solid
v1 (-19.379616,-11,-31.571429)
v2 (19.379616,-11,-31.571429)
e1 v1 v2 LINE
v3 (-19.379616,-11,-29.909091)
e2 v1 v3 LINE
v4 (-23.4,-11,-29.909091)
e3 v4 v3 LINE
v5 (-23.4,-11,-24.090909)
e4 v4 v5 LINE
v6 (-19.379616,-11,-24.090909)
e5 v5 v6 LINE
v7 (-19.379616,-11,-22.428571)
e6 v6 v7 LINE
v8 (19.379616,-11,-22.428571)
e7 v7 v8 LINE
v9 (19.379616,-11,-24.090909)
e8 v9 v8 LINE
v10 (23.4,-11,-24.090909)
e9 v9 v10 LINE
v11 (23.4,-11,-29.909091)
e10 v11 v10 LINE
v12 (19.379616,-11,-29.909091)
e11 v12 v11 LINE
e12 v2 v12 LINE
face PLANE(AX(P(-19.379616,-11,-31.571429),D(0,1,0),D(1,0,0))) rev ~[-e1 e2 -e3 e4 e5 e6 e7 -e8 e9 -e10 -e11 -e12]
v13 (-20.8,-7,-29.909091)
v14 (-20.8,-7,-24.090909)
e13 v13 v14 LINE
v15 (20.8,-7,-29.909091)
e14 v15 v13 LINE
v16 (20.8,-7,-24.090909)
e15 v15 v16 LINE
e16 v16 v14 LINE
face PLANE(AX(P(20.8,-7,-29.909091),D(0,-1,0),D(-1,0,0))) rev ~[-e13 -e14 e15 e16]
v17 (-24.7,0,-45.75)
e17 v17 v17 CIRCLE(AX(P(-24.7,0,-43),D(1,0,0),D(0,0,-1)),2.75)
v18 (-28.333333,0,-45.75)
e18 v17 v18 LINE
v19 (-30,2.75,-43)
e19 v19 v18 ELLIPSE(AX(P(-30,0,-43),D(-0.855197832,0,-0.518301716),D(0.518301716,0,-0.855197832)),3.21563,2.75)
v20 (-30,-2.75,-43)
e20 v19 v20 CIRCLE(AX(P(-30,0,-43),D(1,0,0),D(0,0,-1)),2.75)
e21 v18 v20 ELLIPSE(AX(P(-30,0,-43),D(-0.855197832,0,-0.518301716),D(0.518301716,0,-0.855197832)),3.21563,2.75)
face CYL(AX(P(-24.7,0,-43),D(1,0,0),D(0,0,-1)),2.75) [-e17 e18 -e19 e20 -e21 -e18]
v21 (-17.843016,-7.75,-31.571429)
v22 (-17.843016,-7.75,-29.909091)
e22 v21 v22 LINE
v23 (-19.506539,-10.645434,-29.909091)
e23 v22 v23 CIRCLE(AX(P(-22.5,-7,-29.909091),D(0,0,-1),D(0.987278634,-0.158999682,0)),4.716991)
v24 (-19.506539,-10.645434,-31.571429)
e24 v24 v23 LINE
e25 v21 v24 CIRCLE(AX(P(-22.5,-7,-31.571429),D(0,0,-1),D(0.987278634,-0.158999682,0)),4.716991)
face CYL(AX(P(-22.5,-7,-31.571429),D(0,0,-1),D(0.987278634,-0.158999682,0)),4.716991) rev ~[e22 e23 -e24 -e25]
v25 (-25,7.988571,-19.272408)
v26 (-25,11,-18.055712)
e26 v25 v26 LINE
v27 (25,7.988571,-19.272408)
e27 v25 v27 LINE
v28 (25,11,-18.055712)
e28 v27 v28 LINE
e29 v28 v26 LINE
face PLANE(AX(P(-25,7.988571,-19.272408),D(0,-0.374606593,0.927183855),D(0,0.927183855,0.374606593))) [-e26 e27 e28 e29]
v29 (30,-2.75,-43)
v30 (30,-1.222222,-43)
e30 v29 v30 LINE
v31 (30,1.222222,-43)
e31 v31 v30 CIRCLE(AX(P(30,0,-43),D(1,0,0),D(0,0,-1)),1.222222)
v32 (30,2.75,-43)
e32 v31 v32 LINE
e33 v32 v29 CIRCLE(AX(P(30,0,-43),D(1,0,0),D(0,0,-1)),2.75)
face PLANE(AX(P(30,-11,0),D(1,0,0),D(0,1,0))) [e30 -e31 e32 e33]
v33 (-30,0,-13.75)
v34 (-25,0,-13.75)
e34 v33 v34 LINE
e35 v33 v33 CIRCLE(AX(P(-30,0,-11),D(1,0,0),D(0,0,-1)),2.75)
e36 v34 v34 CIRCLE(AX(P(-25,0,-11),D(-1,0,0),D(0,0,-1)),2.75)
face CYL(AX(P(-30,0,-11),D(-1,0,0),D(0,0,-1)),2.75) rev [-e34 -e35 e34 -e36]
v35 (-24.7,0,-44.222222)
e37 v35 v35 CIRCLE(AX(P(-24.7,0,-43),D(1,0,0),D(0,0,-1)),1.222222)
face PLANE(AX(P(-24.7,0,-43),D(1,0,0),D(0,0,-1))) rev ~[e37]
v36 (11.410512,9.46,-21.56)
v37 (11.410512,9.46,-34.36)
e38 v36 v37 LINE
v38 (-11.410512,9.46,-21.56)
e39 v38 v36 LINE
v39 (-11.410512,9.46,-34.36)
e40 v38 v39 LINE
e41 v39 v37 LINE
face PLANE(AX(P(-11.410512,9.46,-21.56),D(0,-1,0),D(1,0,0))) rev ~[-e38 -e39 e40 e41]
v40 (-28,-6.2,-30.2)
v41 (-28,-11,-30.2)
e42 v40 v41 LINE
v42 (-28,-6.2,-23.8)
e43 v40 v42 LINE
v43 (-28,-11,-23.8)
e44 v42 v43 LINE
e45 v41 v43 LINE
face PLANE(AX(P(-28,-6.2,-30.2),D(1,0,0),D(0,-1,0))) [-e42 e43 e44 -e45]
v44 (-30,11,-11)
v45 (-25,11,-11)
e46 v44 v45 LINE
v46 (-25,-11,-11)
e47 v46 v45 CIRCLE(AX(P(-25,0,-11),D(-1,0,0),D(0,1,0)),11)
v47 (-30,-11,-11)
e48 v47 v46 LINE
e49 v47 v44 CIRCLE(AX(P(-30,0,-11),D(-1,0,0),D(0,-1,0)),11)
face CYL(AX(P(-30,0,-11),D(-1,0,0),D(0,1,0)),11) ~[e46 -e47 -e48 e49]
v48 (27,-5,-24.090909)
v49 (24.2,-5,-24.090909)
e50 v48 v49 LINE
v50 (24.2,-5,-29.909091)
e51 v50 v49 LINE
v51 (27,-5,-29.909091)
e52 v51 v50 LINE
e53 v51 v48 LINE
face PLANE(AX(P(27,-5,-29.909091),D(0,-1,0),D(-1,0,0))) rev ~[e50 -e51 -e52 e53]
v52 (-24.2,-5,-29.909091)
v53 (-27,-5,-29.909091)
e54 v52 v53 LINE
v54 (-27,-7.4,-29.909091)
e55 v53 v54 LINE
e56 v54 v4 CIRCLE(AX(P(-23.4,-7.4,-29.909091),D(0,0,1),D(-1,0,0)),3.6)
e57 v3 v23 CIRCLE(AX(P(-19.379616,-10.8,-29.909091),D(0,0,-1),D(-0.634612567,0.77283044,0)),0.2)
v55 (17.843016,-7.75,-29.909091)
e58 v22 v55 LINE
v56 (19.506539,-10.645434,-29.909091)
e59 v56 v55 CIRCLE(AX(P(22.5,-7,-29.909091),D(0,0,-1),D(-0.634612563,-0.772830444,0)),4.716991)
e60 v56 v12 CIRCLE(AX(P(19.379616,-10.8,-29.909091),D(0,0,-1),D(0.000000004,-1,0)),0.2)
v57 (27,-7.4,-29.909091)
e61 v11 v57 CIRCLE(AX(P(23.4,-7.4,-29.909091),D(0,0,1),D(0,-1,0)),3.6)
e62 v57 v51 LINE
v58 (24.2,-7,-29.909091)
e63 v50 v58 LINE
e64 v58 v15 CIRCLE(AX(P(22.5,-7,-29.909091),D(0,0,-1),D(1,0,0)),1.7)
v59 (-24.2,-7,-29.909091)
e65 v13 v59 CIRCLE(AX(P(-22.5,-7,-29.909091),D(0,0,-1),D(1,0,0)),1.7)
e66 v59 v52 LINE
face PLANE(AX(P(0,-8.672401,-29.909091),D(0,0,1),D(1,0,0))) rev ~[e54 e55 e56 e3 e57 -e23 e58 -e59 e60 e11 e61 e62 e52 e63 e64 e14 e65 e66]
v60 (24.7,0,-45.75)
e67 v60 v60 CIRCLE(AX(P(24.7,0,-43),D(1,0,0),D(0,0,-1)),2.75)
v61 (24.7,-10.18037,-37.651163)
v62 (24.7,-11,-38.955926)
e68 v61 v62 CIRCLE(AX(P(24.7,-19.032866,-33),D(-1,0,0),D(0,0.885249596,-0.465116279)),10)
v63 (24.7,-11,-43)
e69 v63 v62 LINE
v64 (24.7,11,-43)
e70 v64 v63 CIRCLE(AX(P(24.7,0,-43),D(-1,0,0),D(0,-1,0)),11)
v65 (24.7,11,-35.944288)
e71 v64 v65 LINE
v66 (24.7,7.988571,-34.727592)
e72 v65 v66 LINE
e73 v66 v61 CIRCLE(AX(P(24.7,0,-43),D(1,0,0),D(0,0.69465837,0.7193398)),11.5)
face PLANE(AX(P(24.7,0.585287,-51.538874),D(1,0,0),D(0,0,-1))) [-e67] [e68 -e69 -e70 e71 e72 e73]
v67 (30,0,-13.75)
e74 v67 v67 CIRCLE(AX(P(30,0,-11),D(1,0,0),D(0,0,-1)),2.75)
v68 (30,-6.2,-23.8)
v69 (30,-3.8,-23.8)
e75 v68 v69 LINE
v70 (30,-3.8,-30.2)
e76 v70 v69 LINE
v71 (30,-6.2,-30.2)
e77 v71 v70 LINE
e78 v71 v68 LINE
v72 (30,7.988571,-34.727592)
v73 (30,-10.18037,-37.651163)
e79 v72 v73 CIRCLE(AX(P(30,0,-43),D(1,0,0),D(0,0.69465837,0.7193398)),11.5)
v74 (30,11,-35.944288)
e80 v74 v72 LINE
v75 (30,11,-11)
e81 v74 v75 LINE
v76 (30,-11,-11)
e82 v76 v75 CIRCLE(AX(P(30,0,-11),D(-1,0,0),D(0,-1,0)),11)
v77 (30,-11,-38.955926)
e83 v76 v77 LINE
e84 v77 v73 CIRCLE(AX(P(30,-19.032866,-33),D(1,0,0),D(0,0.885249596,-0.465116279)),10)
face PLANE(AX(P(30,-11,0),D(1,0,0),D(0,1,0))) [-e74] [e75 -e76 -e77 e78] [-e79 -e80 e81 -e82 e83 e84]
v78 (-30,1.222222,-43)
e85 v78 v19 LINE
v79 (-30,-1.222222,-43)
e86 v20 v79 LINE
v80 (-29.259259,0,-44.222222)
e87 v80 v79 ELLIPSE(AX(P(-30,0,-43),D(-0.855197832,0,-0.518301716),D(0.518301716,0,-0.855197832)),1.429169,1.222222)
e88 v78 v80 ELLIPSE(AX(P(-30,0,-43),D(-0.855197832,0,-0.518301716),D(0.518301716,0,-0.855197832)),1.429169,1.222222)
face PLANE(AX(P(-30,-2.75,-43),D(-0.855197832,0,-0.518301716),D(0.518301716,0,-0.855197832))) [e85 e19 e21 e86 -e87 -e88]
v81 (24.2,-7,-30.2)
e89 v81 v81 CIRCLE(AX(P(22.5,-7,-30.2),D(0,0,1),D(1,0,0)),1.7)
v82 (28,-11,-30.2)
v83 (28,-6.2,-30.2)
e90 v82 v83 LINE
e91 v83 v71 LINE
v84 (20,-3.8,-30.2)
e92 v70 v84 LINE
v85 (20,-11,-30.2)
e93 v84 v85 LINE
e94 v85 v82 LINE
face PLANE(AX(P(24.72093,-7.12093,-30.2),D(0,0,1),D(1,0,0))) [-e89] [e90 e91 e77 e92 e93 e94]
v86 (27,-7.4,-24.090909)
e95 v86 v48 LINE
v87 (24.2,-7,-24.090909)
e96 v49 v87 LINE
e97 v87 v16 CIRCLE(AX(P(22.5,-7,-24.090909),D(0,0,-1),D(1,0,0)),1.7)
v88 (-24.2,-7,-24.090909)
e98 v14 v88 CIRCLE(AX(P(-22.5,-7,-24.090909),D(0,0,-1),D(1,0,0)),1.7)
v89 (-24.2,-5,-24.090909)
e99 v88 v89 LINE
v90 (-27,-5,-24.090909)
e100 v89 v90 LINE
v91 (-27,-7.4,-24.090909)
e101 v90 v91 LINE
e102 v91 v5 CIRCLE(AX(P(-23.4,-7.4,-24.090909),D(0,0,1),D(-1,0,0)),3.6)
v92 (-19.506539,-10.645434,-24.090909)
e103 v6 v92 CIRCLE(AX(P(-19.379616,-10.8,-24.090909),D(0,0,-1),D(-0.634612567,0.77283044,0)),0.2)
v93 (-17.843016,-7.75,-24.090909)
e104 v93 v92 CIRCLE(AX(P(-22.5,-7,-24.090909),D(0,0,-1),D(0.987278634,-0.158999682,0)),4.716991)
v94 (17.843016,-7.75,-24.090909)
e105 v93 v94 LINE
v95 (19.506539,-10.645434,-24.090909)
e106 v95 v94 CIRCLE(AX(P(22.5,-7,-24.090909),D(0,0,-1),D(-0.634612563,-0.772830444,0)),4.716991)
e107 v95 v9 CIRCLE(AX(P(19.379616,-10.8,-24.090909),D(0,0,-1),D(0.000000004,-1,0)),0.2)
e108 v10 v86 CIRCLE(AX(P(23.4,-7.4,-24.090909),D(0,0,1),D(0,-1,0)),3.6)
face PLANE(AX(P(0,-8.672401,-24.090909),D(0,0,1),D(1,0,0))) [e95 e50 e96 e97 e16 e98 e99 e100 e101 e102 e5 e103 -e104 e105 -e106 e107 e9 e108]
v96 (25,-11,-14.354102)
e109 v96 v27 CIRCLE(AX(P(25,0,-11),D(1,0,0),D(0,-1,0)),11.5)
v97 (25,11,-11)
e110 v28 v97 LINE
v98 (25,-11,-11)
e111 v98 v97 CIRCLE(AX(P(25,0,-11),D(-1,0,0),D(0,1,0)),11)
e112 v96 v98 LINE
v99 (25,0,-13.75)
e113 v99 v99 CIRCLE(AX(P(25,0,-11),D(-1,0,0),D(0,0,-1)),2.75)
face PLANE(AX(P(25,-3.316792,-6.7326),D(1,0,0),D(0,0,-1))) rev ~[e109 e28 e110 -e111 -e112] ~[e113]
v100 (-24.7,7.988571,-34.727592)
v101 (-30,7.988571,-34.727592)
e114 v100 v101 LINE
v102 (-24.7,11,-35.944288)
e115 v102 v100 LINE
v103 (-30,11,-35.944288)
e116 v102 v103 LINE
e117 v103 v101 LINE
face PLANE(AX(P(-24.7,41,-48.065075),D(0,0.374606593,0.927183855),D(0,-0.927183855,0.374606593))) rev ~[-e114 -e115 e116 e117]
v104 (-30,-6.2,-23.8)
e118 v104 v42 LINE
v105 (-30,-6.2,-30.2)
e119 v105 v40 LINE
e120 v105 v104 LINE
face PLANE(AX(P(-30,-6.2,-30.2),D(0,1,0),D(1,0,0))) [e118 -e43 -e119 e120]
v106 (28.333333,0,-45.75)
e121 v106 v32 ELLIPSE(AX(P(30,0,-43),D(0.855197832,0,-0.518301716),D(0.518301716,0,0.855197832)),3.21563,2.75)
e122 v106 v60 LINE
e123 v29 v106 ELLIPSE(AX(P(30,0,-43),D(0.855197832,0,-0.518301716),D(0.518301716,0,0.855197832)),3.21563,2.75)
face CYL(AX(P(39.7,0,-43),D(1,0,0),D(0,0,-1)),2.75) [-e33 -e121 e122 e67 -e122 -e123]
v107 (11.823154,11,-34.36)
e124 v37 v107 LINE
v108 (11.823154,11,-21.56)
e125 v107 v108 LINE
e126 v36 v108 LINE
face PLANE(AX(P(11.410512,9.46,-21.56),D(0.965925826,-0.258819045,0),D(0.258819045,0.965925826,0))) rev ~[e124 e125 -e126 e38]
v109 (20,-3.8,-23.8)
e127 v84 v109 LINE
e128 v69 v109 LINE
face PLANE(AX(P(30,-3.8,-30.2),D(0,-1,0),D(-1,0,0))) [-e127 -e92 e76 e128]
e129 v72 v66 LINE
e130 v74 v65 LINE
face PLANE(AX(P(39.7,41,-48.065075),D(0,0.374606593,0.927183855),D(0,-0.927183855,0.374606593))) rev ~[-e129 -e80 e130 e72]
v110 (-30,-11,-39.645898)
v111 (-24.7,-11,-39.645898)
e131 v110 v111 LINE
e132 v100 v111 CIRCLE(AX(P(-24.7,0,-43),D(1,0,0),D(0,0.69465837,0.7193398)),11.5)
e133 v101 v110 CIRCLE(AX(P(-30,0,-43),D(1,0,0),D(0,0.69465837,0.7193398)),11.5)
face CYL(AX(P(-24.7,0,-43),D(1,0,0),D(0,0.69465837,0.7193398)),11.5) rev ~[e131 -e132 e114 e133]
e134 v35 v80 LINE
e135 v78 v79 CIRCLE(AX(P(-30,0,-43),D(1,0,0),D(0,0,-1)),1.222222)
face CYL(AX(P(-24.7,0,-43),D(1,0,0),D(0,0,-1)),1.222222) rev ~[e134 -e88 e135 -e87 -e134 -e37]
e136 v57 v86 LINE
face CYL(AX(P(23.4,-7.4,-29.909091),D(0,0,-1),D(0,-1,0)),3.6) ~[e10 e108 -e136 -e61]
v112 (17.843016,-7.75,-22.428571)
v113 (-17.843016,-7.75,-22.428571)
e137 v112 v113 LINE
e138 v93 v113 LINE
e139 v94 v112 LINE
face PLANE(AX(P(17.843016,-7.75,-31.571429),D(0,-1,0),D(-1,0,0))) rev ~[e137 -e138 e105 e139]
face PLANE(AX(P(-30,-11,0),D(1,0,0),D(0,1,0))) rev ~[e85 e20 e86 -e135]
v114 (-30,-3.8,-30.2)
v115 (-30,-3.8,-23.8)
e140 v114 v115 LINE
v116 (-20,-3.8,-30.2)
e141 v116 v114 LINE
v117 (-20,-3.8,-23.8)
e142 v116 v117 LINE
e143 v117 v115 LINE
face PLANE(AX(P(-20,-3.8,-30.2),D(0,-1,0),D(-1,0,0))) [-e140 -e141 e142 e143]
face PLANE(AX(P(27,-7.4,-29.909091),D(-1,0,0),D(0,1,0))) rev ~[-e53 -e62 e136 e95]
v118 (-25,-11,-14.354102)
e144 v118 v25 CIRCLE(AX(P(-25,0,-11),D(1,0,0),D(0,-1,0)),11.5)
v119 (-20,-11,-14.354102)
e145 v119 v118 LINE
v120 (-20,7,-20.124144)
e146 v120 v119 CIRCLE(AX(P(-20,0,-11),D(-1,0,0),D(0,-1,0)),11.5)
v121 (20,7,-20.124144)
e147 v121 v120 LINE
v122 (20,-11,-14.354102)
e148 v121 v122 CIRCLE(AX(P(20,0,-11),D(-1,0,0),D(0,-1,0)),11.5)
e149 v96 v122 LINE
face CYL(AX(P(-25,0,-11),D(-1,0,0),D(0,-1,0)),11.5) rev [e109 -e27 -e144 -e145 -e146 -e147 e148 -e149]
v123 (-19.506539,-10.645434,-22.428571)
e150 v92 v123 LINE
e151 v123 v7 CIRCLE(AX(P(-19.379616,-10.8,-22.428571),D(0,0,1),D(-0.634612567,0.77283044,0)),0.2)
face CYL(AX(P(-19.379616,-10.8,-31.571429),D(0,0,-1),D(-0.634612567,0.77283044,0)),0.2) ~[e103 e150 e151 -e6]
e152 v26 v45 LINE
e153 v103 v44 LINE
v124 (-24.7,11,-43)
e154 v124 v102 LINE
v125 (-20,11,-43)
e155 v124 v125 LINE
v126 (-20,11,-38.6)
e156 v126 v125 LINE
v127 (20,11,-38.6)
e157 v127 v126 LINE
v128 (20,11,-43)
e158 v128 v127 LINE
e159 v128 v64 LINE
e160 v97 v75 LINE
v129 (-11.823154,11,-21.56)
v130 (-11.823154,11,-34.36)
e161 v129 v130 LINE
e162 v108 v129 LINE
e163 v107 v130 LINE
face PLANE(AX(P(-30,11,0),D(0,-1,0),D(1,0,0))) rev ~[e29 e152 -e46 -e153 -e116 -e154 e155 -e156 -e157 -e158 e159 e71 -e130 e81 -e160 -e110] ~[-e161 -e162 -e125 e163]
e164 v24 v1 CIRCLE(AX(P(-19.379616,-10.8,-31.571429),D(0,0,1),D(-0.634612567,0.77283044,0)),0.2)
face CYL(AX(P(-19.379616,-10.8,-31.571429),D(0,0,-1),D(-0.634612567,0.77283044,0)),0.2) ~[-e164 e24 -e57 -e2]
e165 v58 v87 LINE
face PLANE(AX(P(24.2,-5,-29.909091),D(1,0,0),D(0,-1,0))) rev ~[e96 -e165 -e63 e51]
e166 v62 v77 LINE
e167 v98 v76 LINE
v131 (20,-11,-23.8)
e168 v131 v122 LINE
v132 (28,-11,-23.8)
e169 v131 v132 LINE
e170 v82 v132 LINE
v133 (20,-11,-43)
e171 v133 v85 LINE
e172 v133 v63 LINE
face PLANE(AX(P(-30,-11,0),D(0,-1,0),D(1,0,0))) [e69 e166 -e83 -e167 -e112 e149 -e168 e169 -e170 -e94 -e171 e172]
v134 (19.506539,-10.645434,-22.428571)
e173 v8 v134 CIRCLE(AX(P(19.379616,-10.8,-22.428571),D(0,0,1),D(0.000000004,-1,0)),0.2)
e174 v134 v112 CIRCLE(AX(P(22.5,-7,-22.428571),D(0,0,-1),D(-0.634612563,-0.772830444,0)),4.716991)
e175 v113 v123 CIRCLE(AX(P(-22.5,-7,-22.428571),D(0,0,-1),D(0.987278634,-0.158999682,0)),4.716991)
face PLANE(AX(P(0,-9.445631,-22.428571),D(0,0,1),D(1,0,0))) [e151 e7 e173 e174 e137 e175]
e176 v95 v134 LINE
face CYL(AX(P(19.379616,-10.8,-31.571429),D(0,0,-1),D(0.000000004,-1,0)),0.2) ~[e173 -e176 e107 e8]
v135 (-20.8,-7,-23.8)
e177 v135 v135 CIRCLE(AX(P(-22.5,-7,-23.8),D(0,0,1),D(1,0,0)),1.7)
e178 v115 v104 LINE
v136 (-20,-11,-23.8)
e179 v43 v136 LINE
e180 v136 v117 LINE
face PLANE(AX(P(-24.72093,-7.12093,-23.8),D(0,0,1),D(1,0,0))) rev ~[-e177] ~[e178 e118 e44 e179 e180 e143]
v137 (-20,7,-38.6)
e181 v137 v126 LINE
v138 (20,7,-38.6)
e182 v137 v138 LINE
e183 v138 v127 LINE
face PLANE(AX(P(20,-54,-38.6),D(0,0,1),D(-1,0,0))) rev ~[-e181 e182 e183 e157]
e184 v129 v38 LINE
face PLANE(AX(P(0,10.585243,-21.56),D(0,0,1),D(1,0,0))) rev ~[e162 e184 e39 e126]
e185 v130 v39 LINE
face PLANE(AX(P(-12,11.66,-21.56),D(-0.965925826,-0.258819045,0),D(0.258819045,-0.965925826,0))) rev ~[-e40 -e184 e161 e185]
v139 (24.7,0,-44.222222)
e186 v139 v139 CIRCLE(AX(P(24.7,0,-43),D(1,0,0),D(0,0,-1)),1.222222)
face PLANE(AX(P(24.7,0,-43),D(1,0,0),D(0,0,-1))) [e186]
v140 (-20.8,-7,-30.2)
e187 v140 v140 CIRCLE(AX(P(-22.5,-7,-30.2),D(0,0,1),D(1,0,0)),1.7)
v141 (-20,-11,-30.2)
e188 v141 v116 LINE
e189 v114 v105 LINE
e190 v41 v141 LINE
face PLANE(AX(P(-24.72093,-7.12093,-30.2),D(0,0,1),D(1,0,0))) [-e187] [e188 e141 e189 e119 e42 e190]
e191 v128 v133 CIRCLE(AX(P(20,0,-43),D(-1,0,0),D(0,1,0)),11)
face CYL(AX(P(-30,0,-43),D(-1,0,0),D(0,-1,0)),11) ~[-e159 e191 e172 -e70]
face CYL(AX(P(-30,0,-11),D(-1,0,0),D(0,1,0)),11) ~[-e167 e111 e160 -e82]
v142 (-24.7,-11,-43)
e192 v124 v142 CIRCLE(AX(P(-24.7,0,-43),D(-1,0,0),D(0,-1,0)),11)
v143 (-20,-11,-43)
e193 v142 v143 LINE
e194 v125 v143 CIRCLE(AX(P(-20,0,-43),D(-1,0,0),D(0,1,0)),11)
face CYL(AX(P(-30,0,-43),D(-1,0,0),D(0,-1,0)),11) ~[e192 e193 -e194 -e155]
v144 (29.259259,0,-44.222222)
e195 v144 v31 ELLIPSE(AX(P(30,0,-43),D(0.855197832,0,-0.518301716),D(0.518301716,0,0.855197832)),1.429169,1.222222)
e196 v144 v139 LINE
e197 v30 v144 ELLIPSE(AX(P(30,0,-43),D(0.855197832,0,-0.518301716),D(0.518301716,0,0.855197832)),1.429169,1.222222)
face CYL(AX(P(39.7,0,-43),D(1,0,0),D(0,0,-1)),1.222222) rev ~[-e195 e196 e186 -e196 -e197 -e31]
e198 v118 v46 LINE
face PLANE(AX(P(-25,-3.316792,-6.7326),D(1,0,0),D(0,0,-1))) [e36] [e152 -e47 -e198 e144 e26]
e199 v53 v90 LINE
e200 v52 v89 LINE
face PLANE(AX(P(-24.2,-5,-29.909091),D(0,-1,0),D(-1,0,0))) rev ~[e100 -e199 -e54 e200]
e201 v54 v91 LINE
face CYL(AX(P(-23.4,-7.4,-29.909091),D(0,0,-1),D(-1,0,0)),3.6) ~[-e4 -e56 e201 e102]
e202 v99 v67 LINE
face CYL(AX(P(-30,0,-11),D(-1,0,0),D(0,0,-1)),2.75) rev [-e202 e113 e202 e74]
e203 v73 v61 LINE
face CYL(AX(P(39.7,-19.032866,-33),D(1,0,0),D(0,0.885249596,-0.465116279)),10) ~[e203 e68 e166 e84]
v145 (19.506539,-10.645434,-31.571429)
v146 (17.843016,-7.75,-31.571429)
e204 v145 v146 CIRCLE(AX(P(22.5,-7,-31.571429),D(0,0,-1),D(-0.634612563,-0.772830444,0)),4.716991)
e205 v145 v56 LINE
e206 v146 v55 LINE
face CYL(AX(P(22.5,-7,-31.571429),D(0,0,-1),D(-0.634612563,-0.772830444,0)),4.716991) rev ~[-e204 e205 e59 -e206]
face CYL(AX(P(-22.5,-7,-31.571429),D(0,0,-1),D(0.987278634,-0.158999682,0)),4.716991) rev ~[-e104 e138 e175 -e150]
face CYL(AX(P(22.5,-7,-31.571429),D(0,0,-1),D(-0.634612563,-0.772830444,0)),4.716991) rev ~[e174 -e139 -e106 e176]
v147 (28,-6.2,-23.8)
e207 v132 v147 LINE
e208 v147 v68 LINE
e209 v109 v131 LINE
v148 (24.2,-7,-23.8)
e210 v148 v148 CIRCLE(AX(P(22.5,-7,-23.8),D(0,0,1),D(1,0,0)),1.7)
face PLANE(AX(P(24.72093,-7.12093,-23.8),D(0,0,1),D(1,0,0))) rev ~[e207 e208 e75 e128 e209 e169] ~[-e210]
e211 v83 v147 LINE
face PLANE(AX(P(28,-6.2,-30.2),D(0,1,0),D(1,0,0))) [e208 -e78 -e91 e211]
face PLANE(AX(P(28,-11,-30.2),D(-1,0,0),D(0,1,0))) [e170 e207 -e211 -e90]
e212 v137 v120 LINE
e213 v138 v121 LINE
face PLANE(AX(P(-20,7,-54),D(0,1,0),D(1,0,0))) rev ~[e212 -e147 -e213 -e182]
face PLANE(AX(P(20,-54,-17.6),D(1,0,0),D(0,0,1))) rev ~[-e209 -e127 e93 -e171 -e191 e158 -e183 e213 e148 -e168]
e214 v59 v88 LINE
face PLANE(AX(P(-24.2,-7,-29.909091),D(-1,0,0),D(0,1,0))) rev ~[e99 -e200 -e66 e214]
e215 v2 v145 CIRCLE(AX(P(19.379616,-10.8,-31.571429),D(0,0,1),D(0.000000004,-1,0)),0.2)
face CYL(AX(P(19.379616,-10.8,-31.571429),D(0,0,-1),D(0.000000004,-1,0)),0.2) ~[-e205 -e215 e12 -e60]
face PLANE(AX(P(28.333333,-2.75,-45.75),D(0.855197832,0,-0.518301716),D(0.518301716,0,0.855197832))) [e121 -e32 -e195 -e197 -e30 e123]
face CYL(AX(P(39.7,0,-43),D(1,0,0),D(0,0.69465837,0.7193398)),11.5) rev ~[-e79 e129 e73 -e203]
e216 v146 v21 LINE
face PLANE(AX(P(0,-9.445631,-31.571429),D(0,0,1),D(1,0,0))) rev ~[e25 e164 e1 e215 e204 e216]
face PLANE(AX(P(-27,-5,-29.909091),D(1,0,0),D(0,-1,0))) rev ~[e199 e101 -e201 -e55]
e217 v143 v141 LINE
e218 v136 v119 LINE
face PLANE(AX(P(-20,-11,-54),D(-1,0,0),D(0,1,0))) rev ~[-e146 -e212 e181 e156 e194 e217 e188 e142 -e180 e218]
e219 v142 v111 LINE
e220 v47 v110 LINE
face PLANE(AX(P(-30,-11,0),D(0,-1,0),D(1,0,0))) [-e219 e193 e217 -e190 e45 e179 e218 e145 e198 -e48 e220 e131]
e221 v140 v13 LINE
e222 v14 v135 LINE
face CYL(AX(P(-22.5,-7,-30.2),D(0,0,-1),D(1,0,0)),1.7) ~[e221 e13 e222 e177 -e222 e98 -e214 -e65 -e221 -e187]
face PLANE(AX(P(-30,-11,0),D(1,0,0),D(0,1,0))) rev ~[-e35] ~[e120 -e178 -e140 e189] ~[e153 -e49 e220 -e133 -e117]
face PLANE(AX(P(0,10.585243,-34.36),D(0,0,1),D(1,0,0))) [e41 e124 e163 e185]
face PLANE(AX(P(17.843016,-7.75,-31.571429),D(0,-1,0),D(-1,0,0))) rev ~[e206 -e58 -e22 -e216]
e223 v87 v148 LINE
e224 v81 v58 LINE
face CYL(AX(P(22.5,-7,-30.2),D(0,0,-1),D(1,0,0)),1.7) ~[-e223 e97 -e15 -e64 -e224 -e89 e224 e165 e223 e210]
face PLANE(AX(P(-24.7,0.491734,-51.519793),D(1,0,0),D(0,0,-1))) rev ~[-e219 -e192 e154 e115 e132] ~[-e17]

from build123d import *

# Parameters (mm, degrees)
SKETCH1_W                = 60
SKETCH1_H                = 22
BOSS_EXTRUDE1_DEPTH      = 54
CUT_EXTRUDE1_DEPTH       = 54
CUT_EXTRUDE1_DEPTH_BACK  = 54
SKETCH2_W                = 40
SKETCH2_H                = 18
CUT_EXTRUDE2_DEPTH       = 12.8
CUT_EXTRUDE3_DEPTH       = 54
CUT_EXTRUDE3_DEPTH_BACK  = 54
SKETCH4_W                = 120
SKETCH4_H                = 180
CUT_EXTRUDE4_DEPTH       = 30
CUT_EXTRUDE4_DEPTH_BACK  = 30
SKETCH5_W                = 96
SKETCH5_H                = 64
SKETCH6_R                = 2.75
CUT_EXTRUDE5_DEPTH       = 15
SKETCH7_R                = 1.222222222
CUT_EXTRUDE6_DEPTH       = 15
CUT_EXTRUDE7_DEPTH       = 30
CUT_EXTRUDE7_DEPTH_BACK  = 30
SKETCH8_R                = 2.75
CUT_EXTRUDE8_DEPTH       = 50
CUT_EXTRUDE9_START       = 15
SKETCH10_R               = 2.75
CUT_EXTRUDE9_DEPTH       = 15
CUT_EXTRUDE10_START      = 15
SKETCH11_R               = 1.222222222
CUT_EXTRUDE10_DEPTH      = 15
CUT_EXTRUDE11_DEPTH      = 3.2
CUT_EXTRUDE11_DEPTH_BACK = 3.2
SKETCH12_R               = 1.7
CUT_EXTRUDE12_DEPTH      = 3.2
CUT_EXTRUDE12_DEPTH_BACK = 3.2
SKETCH13_R               = 1.7
CUT_EXTRUDE13_DEPTH      = 2.75
CUT_EXTRUDE13_DEPTH_BACK = 2.75
CUT_EXTRUDE14_DEPTH      = 2.75
CUT_EXTRUDE14_DEPTH_BACK = 2.75
BOSS_EXTRUDE2_DEPTH      = 2.909090909
BOSS_EXTRUDE2_DEPTH_BACK = 2.909090909
BOSS_EXTRUDE3_DEPTH      = 4.571428571
BOSS_EXTRUDE3_DEPTH_BACK = 4.571428571


with BuildPart() as part:
    # Sketch1 → Boss-Extrude1 (new body)
    with BuildSketch(Plane.XY):
        Rectangle(SKETCH1_W, SKETCH1_H)
    extrude(amount=-BOSS_EXTRUDE1_DEPTH)

    # Sketch2 → Cut-Extrude1 (cut, two sides: drawn at the far end of the back side and taken through both)
    with BuildSketch(Plane.XY.offset(-CUT_EXTRUDE1_DEPTH_BACK)):
        with Locations((0, -2)):
            Rectangle(SKETCH2_W, SKETCH2_H)
    extrude(amount=CUT_EXTRUDE1_DEPTH + CUT_EXTRUDE1_DEPTH_BACK, mode=Mode.SUBTRACT)

    # Sketch3 → Cut-Extrude2 (cut)
    with BuildSketch(Plane.XY.offset(-21.56)):
        Polygon((-12, 11.66), (-11.410511777, 9.46), (11.410511777, 9.46), (12, 11.66), align=None)
    extrude(amount=-CUT_EXTRUDE2_DEPTH, mode=Mode.SUBTRACT)

    # Sketch4 → Cut-Extrude3 (cut, two sides: drawn at the far end of the back side and taken through both)
    with BuildSketch(Plane(origin=(0, 0, 0), x_dir=(-1, 0, 0), z_dir=(0, 1, 0)).offset(-CUT_EXTRUDE3_DEPTH_BACK)):
        with Locations((0, -30)):
            Rectangle(SKETCH4_W, SKETCH4_H)
        Polygon((30, -54), (30, 0), (20, 0), (20, -17.6), (-20, -17.6), (-20, 0), (-30, 0), (-30, -54), (-20, -54), (-20, -38.6), (20, -38.6), (20, -54), align=None, mode=Mode.SUBTRACT)
    extrude(amount=CUT_EXTRUDE3_DEPTH + CUT_EXTRUDE3_DEPTH_BACK, mode=Mode.SUBTRACT)

    # Sketch5 → Cut-Extrude4 (cut, two sides: drawn at the far end of the back side and taken through both)
    with BuildSketch(Plane(origin=(0, 0, 0), x_dir=(0, 0, -1), z_dir=(1, 0, 0)).offset(-CUT_EXTRUDE4_DEPTH_BACK)):
        with Locations((16, 0)):
            Rectangle(SKETCH5_W, SKETCH5_H)
        with BuildLine():
            Line((11, -11), (43, -11))
            ThreePointArc((43, -11), (54, 0), (43, 11))
            Line((43, 11), (11, 11))
            ThreePointArc((11, 11), (0, 0), (11, -11))
        make_face(mode=Mode.SUBTRACT)
    extrude(amount=CUT_EXTRUDE4_DEPTH + CUT_EXTRUDE4_DEPTH_BACK, mode=Mode.SUBTRACT)

    # Sketch6 → Cut-Extrude5 (cut)
    with BuildSketch(Plane(origin=(-24.7, 0, 0), x_dir=(0, 0, -1), z_dir=(1, 0, 0))):
        with BuildLine():
            Line((43, -11.5), (43, -38))
            Line((43, -38), (63.2, -38))
            Line((63.2, -38), (63.2, 41))
            Line((63.2, 41), (48.065075259, 41))
            Line((48.065075259, 41), (34.727592296, 7.98857126))
            ThreePointArc((34.727592296, 7.98857126), (32.414194185, -4.493407978), (43, -11.5))
        make_face()
        with Locations((43, 0)):
            Circle(SKETCH6_R, mode=Mode.SUBTRACT)
    extrude(amount=-CUT_EXTRUDE5_DEPTH, mode=Mode.SUBTRACT)

    # Sketch7 → Cut-Extrude6 (cut)
    with BuildSketch(Plane(origin=(-24.7, 0, 0), x_dir=(0, 0, -1), z_dir=(1, 0, 0))):
        with Locations((43, 0)):
            Circle(SKETCH7_R)
    extrude(amount=-CUT_EXTRUDE6_DEPTH, mode=Mode.SUBTRACT)

    # Sketch8 → Cut-Extrude7 (cut, two sides: drawn at the far end of the back side and taken through both)
    with BuildSketch(Plane(origin=(0, 0, 0), x_dir=(0, 0, -1), z_dir=(1, 0, 0)).offset(-CUT_EXTRUDE7_DEPTH_BACK)):
        with Locations((11, 0)):
            Circle(SKETCH8_R)
    extrude(amount=CUT_EXTRUDE7_DEPTH + CUT_EXTRUDE7_DEPTH_BACK, mode=Mode.SUBTRACT)

    # Sketch9 → Cut-Extrude8 (cut)
    with BuildSketch(Plane(origin=(-25, 0, 0), x_dir=(0, 0, -1), z_dir=(1, 0, 0))):
        with BuildLine():
            Line((-2.2, 26), (-2.2, -33))
            Line((-2.2, -33), (11, -33))
            Line((11, -33), (11, -11.5))
            ThreePointArc((11, -11.5), (21.585805815, -4.493407978), (19.272407704, 7.98857126))
            Line((19.272407704, 7.98857126), (11.995318128, 26))
            Line((11.995318128, 26), (-2.2, 26))
        make_face()
    extrude(amount=CUT_EXTRUDE8_DEPTH, mode=Mode.SUBTRACT)

    # Sketch10 → Cut-Extrude9 (cut)
    with BuildSketch(Plane(origin=(24.7, 0, 0), x_dir=(0, 0, -1), z_dir=(1, 0, 0)).offset(CUT_EXTRUDE9_START)):
        with BuildLine():
            Line((43, -19.032866311), (43, -38))
            Line((43, -38), (63.2, -38))
            Line((63.2, -38), (63.2, 41))
            Line((63.2, 41), (48.065075259, 41))
            Line((48.065075259, 41), (34.727592296, 7.98857126))
            ThreePointArc((34.727592296, 7.98857126), (31.646049671, -1.826967959), (37.651162791, -10.180370352))
            ThreePointArc((37.651162791, -10.180370352), (41.558961032, -13.861388181), (43, -19.032866311))
        make_face()
        with Locations((43, 0)):
            Circle(SKETCH10_R, mode=Mode.SUBTRACT)
    extrude(amount=-CUT_EXTRUDE9_DEPTH, mode=Mode.SUBTRACT)

    # Sketch11 → Cut-Extrude10 (cut)
    with BuildSketch(Plane(origin=(24.7, 0, 0), x_dir=(0, 0, -1), z_dir=(1, 0, 0)).offset(CUT_EXTRUDE10_START)):
        with Locations((43, 0)):
            Circle(SKETCH11_R)
    extrude(amount=-CUT_EXTRUDE10_DEPTH, mode=Mode.SUBTRACT)

    # Sketch12 → Cut-Extrude11 (cut, two sides: drawn at the far end of the back side and taken through both)
    with BuildSketch(Plane.XY.offset(-27).offset(-CUT_EXTRUDE11_DEPTH_BACK)):
        Polygon((-30, -6.2), (-28, -6.2), (-28, -11), (-20, -11), (-20, -3.8), (-30, -3.8), align=None)
        with Locations((-22.5, -7)):
            Circle(SKETCH12_R, mode=Mode.SUBTRACT)
    extrude(amount=CUT_EXTRUDE11_DEPTH + CUT_EXTRUDE11_DEPTH_BACK, mode=Mode.SUBTRACT)

    # Sketch13 → Cut-Extrude12 (cut, two sides: drawn at the far end of the back side and taken through both)
    with BuildSketch(Plane.XY.offset(-27).offset(-CUT_EXTRUDE12_DEPTH_BACK)):
        Polygon((20, -11), (28, -11), (28, -6.2), (30, -6.2), (30, -3.8), (20, -3.8), align=None)
        with Locations((22.5, -7)):
            Circle(SKETCH13_R, mode=Mode.SUBTRACT)
    extrude(amount=CUT_EXTRUDE12_DEPTH + CUT_EXTRUDE12_DEPTH_BACK, mode=Mode.SUBTRACT)

    # Sketch14 → Cut-Extrude13 (cut, two sides: drawn at the far end of the back side and taken through both)
    with BuildSketch(Plane(origin=(0, 0, 0), x_dir=(-1, 0, 0), z_dir=(0, 1, 0)).offset(-CUT_EXTRUDE13_DEPTH_BACK)):
        Polygon((-28.333333333, -45.75), (-30, -43), (-30, -45.75), align=None)
    extrude(amount=CUT_EXTRUDE13_DEPTH + CUT_EXTRUDE13_DEPTH_BACK, mode=Mode.SUBTRACT)

    # Sketch15 → Cut-Extrude14 (cut, two sides: drawn at the far end of the back side and taken through both)
    with BuildSketch(Plane(origin=(0, 0, 0), x_dir=(-1, 0, 0), z_dir=(0, 1, 0)).offset(-CUT_EXTRUDE14_DEPTH_BACK)):
        Polygon((30, -45.75), (30, -43), (28.333333333, -45.75), align=None)
    extrude(amount=CUT_EXTRUDE14_DEPTH + CUT_EXTRUDE14_DEPTH_BACK, mode=Mode.SUBTRACT)

    # Sketch16 → Boss-Extrude2 (add, two sides: drawn at the far end of the back side and taken through both)
    with BuildSketch(Plane.XY.offset(-27).offset(-BOSS_EXTRUDE2_DEPTH_BACK)):
        with BuildLine():
            Line((-23.4, -11), (23.4, -11))
            ThreePointArc((23.4, -11), (25.945584412, -9.945584412), (27, -7.4))
            Line((27, -7.4), (27, -5))
            Line((27, -5), (24.2, -5))
            Line((24.2, -5), (24.2, -7))
            ThreePointArc((24.2, -7), (22.5, -8.7), (20.8, -7))
            Line((20.8, -7), (-20.8, -7))
            ThreePointArc((-20.8, -7), (-22.5, -8.7), (-24.2, -7))
            Line((-24.2, -7), (-24.2, -5))
            Line((-24.2, -5), (-27, -5))
            Line((-27, -5), (-27, -7.4))
            ThreePointArc((-27, -7.4), (-25.945584412, -9.945584412), (-23.4, -11))
        make_face()
    extrude(amount=BOSS_EXTRUDE2_DEPTH + BOSS_EXTRUDE2_DEPTH_BACK)

    # Sketch17 → Boss-Extrude3 (add, two sides: drawn at the far end of the back side and taken through both)
    with BuildSketch(Plane.XY.offset(-27).offset(-BOSS_EXTRUDE3_DEPTH_BACK)):
        with BuildLine():
            Line((-19.379616013, -11), (19.379616013, -11))
            ThreePointArc((19.379616013, -11), (19.567915266, -10.867404682), (19.506538526, -10.645433911))
            ThreePointArc((19.506538526, -10.645433911), (18.409986139, -9.349848212), (17.843015997, -7.75))
            Line((17.843015997, -7.75), (-17.843015997, -7.75))
            ThreePointArc((-17.843015997, -7.75), (-18.409986139, -9.349848212), (-19.506538526, -10.645433911))
            ThreePointArc((-19.506538526, -10.645433911), (-19.567915266, -10.867404682), (-19.379616013, -11))
        make_face()
    extrude(amount=BOSS_EXTRUDE3_DEPTH + BOSS_EXTRUDE3_DEPTH_BACK)


solid = part.part
